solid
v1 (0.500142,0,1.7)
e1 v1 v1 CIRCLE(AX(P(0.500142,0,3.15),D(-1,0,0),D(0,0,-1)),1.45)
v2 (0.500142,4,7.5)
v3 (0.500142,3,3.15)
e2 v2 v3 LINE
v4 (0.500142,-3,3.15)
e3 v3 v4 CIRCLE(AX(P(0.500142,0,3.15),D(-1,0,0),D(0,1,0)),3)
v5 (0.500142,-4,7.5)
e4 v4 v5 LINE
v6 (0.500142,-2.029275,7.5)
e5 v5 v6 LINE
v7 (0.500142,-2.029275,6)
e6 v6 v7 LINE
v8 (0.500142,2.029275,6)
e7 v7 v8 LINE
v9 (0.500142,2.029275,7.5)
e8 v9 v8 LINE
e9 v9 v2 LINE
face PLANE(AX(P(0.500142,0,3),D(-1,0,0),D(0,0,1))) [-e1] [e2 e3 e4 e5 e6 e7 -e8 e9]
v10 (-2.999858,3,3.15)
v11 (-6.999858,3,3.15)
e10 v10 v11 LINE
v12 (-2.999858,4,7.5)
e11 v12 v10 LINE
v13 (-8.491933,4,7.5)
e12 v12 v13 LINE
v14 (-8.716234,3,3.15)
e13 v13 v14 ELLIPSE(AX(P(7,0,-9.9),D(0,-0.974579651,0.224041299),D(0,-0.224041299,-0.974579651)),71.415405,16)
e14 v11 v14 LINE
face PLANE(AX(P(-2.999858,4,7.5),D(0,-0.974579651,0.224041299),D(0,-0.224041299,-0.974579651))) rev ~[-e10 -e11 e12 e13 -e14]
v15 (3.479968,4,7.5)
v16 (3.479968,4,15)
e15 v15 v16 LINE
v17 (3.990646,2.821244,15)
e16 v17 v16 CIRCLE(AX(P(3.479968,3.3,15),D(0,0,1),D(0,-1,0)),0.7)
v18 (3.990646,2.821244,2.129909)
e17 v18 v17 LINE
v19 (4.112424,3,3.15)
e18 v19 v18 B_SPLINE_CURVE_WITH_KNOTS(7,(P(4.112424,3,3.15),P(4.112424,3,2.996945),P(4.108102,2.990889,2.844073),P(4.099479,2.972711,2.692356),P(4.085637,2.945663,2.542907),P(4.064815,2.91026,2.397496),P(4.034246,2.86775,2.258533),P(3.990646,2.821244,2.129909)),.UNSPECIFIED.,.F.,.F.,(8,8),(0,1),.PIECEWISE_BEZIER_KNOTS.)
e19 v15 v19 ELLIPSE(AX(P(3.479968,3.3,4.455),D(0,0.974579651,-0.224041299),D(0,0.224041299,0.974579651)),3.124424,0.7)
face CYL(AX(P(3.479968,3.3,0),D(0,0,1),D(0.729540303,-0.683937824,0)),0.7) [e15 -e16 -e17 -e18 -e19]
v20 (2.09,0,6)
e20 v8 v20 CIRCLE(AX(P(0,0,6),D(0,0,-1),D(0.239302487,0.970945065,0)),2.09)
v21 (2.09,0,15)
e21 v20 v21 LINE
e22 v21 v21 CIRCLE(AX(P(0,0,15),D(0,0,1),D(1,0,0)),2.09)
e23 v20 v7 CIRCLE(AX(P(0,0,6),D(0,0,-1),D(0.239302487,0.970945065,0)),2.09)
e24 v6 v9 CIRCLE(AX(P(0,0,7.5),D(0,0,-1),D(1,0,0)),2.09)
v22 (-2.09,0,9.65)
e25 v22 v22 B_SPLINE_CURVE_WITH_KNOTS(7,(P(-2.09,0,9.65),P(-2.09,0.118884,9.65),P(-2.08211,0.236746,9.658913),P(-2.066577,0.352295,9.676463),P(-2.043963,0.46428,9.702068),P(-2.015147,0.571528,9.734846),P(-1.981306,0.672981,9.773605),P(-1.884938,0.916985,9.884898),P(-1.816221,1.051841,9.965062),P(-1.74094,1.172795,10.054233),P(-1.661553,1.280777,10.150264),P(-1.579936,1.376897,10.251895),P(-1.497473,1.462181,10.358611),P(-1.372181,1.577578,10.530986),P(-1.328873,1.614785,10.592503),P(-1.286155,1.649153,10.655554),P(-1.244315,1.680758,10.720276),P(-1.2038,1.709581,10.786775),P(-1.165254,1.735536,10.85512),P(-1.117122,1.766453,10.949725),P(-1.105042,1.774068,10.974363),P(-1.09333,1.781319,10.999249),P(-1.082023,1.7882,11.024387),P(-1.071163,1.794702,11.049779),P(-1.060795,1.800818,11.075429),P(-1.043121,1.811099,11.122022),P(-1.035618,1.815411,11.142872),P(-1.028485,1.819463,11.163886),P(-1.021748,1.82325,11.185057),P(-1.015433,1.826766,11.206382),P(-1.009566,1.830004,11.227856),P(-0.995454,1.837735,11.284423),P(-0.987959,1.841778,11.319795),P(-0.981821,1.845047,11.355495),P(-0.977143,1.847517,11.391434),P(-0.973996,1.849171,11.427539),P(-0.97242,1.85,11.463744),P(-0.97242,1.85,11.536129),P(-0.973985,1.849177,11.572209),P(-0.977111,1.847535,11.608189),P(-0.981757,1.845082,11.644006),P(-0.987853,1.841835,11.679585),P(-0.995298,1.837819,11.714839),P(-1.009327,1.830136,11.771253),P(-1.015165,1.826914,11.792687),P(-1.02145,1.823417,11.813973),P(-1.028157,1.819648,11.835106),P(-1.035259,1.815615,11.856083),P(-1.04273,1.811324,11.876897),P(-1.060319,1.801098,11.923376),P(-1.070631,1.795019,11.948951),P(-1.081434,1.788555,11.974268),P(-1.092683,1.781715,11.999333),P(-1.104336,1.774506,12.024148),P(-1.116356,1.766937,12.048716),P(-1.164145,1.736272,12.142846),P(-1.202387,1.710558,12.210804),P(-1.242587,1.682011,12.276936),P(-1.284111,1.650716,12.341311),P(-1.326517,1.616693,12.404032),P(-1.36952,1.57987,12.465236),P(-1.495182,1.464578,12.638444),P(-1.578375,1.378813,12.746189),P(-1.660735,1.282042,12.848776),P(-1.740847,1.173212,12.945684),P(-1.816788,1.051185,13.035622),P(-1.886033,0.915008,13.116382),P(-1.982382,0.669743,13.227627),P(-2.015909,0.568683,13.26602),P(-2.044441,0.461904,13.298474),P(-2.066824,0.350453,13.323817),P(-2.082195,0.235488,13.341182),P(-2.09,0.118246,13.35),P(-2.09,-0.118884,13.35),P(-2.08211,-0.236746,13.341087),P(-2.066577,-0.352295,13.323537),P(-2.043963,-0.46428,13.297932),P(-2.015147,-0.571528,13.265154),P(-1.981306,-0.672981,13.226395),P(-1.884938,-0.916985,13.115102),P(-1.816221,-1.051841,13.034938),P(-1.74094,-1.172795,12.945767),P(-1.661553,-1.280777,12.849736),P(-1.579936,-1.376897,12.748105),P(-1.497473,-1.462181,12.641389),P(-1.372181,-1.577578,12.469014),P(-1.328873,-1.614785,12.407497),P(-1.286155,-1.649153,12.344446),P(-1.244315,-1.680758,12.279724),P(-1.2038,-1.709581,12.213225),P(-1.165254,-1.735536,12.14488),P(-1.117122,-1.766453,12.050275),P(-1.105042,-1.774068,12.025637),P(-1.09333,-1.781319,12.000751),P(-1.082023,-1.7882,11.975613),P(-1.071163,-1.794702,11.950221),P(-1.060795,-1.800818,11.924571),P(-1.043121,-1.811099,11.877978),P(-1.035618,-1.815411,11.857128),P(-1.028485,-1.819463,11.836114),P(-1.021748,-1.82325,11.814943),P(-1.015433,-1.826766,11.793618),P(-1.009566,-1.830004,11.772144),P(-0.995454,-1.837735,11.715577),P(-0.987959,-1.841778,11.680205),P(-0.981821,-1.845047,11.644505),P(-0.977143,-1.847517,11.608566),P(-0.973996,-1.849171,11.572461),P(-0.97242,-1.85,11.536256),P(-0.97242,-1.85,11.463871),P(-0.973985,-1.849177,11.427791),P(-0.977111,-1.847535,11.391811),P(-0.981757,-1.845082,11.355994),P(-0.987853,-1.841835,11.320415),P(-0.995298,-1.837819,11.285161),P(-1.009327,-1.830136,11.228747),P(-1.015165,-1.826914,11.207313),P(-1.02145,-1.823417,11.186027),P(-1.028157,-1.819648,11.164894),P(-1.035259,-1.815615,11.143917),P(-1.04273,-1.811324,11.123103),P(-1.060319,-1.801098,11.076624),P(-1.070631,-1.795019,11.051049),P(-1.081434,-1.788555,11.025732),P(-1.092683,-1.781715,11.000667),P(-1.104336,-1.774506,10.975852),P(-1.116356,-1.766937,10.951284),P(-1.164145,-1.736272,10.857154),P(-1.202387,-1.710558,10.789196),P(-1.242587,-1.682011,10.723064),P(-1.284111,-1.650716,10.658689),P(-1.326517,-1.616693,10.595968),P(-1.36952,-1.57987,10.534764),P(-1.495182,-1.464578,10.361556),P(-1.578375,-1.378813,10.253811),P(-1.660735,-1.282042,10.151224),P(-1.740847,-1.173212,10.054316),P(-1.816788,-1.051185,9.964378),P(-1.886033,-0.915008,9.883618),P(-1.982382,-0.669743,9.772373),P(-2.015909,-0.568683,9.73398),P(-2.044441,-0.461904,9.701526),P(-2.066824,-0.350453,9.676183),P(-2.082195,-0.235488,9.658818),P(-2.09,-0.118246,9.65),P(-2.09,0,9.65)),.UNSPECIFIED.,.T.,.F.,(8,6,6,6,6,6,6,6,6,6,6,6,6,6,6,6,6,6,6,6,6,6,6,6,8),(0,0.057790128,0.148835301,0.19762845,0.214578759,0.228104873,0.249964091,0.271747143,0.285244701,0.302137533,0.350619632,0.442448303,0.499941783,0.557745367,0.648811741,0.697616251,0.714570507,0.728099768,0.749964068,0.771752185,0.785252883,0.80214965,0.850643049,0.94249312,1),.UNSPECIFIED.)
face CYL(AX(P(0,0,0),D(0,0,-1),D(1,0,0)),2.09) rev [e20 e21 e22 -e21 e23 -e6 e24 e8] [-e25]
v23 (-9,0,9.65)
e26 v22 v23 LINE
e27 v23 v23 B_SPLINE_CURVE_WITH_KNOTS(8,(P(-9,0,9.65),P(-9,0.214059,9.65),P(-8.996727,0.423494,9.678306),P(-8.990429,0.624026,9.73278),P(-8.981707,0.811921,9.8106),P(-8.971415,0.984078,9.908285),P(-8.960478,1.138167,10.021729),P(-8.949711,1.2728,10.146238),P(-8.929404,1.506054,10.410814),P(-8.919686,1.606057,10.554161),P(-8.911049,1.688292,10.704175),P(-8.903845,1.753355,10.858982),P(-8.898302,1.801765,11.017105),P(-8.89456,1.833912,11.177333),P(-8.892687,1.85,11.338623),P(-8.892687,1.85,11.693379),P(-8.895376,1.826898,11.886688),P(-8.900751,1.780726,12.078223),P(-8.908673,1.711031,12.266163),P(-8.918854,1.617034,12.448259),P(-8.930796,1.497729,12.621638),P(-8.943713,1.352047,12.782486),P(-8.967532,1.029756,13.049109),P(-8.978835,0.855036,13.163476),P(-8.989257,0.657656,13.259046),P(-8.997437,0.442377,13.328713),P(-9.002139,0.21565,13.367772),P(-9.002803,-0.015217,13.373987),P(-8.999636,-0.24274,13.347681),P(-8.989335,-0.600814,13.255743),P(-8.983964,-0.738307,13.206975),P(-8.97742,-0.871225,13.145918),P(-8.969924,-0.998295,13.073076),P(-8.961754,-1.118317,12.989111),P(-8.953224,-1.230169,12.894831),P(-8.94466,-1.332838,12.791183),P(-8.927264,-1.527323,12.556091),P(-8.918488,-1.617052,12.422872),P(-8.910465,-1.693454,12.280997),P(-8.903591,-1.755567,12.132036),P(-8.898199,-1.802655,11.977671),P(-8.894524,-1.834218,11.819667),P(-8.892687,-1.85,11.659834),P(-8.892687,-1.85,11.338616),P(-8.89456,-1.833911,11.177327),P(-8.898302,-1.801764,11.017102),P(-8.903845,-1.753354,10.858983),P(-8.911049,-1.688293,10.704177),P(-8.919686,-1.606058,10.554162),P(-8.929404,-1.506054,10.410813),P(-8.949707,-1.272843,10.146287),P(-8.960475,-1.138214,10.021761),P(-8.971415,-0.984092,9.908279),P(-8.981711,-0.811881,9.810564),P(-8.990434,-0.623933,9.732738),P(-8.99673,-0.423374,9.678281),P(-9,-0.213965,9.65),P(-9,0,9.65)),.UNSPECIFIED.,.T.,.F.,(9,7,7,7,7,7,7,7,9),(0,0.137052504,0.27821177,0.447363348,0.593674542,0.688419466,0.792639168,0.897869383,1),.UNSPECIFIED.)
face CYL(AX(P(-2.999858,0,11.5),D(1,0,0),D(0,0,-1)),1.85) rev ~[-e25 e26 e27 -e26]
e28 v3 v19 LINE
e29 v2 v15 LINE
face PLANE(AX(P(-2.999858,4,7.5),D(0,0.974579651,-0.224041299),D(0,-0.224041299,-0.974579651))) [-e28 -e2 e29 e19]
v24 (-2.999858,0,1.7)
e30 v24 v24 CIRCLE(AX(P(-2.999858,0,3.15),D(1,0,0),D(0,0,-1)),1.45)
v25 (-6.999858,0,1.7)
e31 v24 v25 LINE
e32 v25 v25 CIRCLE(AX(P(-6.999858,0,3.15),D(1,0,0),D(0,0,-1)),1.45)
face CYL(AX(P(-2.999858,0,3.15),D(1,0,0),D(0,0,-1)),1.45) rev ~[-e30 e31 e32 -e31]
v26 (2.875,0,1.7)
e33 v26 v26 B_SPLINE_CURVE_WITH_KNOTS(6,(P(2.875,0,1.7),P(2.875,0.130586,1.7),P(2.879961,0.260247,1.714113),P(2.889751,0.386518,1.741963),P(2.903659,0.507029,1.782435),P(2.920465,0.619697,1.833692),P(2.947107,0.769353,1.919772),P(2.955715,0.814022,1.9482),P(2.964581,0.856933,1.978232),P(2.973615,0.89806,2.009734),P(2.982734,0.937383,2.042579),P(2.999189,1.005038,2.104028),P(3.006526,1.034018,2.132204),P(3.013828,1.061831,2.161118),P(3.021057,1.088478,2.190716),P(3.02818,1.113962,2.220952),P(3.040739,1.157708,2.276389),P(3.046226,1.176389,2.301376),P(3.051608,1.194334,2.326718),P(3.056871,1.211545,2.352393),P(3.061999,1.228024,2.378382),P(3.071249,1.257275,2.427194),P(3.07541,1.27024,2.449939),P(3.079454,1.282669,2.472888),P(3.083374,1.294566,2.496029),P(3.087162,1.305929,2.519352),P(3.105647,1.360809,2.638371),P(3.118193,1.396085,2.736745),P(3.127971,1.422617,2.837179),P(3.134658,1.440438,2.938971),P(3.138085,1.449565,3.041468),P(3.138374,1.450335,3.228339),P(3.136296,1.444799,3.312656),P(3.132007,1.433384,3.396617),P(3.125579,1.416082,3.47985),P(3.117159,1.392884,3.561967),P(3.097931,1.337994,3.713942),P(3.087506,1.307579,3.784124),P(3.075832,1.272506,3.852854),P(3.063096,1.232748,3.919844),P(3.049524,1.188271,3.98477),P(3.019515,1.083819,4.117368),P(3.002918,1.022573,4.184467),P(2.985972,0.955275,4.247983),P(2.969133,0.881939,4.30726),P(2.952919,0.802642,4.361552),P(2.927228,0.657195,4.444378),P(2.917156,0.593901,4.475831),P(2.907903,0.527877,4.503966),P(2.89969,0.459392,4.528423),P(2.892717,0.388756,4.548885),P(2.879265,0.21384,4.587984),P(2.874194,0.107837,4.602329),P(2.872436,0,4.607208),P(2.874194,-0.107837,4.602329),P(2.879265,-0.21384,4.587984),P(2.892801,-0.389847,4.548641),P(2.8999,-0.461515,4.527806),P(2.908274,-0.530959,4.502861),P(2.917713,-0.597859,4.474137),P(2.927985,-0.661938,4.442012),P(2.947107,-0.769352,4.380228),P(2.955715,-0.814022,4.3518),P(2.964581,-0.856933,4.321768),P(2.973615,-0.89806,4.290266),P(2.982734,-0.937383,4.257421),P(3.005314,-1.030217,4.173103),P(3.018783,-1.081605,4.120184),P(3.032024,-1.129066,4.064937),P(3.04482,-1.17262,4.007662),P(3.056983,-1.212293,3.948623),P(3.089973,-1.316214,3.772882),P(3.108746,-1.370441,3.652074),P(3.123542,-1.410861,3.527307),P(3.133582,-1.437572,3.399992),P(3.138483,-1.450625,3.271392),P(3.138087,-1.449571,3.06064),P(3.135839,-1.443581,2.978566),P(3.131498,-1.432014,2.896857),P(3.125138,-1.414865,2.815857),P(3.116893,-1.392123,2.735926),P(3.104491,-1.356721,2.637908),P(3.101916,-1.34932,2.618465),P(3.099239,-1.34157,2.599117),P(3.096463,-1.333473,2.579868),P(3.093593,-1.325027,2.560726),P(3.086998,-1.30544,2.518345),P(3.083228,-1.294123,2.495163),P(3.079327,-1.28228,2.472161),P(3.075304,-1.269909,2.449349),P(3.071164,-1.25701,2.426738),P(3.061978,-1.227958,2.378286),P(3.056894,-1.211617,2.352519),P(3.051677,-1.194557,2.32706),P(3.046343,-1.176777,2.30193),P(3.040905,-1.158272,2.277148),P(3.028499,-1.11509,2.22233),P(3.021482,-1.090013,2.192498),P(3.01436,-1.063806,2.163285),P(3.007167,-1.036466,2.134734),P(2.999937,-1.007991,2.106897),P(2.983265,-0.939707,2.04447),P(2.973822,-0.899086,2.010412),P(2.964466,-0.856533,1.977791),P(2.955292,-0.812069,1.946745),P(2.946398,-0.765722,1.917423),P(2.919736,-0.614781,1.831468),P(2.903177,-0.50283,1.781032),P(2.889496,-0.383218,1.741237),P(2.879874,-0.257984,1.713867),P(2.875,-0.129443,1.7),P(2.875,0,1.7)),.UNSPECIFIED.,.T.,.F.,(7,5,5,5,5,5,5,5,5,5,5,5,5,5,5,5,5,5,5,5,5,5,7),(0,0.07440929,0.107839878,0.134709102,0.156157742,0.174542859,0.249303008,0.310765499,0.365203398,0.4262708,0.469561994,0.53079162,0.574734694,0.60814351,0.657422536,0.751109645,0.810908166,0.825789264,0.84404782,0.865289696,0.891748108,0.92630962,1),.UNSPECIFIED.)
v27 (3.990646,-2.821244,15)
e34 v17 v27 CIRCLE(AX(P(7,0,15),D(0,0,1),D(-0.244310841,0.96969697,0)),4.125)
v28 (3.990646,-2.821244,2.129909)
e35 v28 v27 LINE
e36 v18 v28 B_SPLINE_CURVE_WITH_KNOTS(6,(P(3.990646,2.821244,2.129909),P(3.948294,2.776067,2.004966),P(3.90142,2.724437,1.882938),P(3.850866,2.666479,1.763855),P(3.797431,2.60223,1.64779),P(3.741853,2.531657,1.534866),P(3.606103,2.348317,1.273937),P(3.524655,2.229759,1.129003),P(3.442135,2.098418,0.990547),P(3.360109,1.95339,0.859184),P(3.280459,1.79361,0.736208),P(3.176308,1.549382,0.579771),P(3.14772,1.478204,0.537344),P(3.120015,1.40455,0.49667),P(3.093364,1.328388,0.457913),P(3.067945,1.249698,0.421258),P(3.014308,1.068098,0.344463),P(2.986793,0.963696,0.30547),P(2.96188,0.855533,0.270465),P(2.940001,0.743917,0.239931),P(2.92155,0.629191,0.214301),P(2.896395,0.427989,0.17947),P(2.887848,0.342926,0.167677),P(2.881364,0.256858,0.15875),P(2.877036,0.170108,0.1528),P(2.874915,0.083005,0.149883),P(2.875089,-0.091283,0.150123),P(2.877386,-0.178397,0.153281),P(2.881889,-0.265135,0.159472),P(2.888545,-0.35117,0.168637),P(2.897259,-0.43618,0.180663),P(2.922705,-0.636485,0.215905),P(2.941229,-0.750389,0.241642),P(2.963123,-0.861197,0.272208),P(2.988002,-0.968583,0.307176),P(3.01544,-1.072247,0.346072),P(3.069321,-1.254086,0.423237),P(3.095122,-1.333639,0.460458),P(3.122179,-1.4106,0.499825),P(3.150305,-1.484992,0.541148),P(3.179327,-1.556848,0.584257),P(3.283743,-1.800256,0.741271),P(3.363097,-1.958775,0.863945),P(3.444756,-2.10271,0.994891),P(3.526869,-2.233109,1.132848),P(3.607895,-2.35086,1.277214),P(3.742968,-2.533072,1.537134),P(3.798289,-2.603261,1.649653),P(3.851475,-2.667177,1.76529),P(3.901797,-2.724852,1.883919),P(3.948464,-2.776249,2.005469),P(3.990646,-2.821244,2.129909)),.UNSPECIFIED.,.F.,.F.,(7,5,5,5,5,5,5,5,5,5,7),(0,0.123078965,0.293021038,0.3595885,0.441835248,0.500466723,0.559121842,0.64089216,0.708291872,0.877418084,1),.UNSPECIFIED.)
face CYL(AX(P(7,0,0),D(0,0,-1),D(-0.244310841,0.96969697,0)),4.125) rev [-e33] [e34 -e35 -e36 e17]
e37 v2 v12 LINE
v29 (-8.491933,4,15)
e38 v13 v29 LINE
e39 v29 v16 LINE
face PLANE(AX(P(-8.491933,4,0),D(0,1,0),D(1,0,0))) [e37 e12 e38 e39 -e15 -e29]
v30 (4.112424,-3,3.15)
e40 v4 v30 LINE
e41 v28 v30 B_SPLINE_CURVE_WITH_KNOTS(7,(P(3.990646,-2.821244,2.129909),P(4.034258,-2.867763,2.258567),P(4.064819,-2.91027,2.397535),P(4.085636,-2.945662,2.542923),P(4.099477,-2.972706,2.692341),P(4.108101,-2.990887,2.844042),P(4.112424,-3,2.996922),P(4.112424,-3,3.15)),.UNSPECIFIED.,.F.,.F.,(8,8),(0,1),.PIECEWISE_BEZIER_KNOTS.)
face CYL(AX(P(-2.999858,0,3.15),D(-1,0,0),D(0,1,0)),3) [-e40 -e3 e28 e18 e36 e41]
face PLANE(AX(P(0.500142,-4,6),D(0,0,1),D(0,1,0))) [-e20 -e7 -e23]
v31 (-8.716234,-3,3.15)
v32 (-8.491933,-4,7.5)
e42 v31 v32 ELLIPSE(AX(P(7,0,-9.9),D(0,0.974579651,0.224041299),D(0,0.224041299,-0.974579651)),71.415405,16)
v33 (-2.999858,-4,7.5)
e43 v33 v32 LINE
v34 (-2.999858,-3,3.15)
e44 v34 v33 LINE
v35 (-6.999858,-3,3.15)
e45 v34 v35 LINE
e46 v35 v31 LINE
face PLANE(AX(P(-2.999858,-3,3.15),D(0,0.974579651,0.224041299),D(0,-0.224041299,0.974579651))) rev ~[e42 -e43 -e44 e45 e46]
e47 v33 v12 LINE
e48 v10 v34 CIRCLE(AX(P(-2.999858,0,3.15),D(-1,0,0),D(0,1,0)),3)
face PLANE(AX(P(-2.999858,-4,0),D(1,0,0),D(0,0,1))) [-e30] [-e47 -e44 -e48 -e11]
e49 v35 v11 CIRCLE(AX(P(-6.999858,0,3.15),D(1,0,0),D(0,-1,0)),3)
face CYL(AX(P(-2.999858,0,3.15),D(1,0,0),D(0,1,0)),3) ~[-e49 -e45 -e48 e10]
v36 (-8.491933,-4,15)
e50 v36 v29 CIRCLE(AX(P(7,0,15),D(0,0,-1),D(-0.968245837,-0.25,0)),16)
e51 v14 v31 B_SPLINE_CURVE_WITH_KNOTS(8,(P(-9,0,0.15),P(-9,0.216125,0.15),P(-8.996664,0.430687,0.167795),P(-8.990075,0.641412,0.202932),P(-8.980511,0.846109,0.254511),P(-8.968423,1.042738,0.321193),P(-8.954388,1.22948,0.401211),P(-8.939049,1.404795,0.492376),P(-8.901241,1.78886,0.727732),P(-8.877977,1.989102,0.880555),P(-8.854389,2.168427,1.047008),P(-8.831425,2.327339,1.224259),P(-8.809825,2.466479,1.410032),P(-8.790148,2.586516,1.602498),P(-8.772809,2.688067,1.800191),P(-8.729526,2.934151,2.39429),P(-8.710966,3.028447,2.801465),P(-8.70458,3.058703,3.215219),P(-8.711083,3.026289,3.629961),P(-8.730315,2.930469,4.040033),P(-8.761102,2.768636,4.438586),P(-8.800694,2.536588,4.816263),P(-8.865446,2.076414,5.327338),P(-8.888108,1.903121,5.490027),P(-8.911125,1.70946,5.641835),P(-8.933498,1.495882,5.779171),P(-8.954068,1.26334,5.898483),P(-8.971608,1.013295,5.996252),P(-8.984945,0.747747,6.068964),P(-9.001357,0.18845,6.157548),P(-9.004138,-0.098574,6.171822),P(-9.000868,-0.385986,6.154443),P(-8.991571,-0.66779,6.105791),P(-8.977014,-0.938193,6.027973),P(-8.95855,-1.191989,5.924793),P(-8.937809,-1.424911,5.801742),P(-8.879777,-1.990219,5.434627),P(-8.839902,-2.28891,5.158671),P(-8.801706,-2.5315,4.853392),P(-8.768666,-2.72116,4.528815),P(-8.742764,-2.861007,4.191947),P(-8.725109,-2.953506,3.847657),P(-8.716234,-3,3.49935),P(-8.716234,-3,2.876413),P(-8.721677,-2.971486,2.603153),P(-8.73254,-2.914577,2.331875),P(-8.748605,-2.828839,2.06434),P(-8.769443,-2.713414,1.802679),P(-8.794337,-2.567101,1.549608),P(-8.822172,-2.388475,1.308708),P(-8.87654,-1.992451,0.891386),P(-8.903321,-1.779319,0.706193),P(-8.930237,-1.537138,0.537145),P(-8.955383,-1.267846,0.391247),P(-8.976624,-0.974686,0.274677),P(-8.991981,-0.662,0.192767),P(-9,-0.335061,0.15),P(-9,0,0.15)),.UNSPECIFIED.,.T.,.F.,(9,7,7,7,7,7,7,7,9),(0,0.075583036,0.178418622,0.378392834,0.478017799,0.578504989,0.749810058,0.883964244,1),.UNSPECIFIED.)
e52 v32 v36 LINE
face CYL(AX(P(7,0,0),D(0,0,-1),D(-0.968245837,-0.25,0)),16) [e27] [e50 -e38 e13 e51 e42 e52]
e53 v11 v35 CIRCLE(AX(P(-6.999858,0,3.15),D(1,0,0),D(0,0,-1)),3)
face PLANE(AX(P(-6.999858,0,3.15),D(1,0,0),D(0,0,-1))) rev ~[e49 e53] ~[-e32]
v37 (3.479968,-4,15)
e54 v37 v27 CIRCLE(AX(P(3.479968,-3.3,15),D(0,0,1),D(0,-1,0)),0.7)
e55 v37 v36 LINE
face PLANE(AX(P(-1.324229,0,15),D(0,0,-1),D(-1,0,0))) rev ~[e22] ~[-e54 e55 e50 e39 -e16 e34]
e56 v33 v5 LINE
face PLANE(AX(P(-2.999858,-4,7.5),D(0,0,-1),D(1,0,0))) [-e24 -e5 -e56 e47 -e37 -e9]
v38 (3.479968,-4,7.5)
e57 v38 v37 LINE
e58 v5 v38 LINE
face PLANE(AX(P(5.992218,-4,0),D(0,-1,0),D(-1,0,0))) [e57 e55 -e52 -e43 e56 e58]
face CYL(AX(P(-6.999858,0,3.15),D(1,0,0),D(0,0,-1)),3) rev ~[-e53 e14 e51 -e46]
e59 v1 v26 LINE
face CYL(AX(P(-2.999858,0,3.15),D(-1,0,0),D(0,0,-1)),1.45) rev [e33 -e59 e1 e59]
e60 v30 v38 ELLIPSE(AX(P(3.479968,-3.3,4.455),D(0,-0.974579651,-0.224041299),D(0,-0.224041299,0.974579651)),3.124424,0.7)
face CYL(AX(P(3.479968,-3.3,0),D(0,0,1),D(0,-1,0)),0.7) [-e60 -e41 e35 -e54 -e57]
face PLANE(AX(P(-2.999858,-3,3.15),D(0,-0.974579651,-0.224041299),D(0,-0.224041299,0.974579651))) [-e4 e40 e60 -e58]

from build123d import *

# Parameters (mm, degrees)
SCHIZZO1_R                           = 2.09
ESTRUSIONE_ESTRUSIONE1_DEPTH         = 15
SCHIZZO5_W                           = 3.5
SCHIZZO5_H                           = 7.5
TAGLIO_ESTRUSIONE4_DEPTH             = 9
ESTRUSIONE_ESTRUSIONE2_REACH         = 7.492
SCHIZZO6_W                           = 6
SCHIZZO6_H                           = 8
SCHIZZO7_R                           = 1.45
TAGLIO_ESTRUSIONE5_DEPTH             = 9.992075583
TAGLIO_ESTRUSIONE5_DEPTH_BACK        = 7.000142198
SCHIZZO7_4_R                         = 1.85
TAGLIO_ESTRUSIONE6_DEPTH             = 7.000142323
TAGLIO_ESTRUSIONE6_DIRECTION_2_REACH = 10.992
RACCORDO1_R                          = 0.7
RACCORDO2_R                          = 0.7
TAGLIO_ESTRUSIONE7_DEPTH             = 8.179825842
TAGLIO_ESTRUSIONE7_DEPTH_BACK        = 7.000142323
TAGLIO_ESTRUSIONE9_START             = -4
SCHIZZO9_R                           = 3
TAGLIO_ESTRUSIONE9_DEPTH             = 3.000142323


with BuildPart() as part:
    # Schizzo1 → Estrusione-Estrusione1 (new body)
    with BuildSketch(Plane.XY):
        with BuildLine():
            Line((5.992217781, -4), (-8.491933385, -4))
            ThreePointArc((-8.491933385, -4), (-9, 0), (-8.491933385, 4))
            Line((-8.491933385, 4), (5.992217781, 4))
            ThreePointArc((5.992217781, 4), (2.875, 0), (5.992217781, -4))
        make_face()
        Circle(SCHIZZO1_R, mode=Mode.SUBTRACT)
    extrude(amount=ESTRUSIONE_ESTRUSIONE1_DEPTH)

    # Schizzo5 → Taglio-Estrusione4 (cut, through all)
    with BuildSketch(Plane.XZ.offset(4)):
        with Locations((-1.249857802, 3.75)):
            Rectangle(SCHIZZO5_W, SCHIZZO5_H)
    extrude(amount=-TAGLIO_ESTRUSIONE4_DEPTH, mode=Mode.SUBTRACT)

    # Schizzo6 → Estrusione-Estrusione2 (add, up to next)
    with BuildSketch(Plane.ZY.offset(-0.500142198), mode=Mode.PRIVATE) as estrusione_estrusione2_sk1:
        with Locations((3, 0)):
            Rectangle(SCHIZZO6_W, SCHIZZO6_H)
    estrusione_estrusione2_tool1 = extrude(estrusione_estrusione2_sk1.sketch, amount=-ESTRUSIONE_ESTRUSIONE2_REACH, mode=Mode.PRIVATE) - part.part
    add(estrusione_estrusione2_tool1.solids().sort_by_distance((0.500142, 0, 3))[0])

    # Schizzo7 → Taglio-Estrusione5 (cut, two sides)
    with BuildSketch(Plane(origin=(-2.999857802, 0, 0), x_dir=(0, 0, -1), z_dir=(1, 0, 0))) as taglio_estrusione5_sk:
        with Locations((-3.15, 0)):
            Circle(SCHIZZO7_R)
    extrude(amount=TAGLIO_ESTRUSIONE5_DEPTH, mode=Mode.SUBTRACT)
    extrude(taglio_estrusione5_sk.sketch, amount=-TAGLIO_ESTRUSIONE5_DEPTH_BACK, mode=Mode.SUBTRACT)

    # Schizzo7<4> → Taglio-Estrusione6 (cut)
    with BuildSketch(Plane(origin=(-2.999857802, 0, 0), x_dir=(0, 0, -1), z_dir=(1, 0, 0))):
        with Locations((-11.5, 0)):
            Circle(SCHIZZO7_4_R)
    extrude(amount=-TAGLIO_ESTRUSIONE6_DEPTH, mode=Mode.SUBTRACT)

    # Schizzo7<4> → Taglio-Estrusione6 direction 2 (cut, up to next)
    with BuildSketch(Plane(origin=(-2.999857802, 0, 0), x_dir=(0, 0, -1), z_dir=(1, 0, 0)), mode=Mode.PRIVATE) as taglio_estrusione6_direction_2_sk1:
        with Locations((-11.5, 0)):
            Circle(SCHIZZO7_4_R)
    taglio_estrusione6_direction_2_tool1 = extrude(taglio_estrusione6_direction_2_sk1.sketch, amount=TAGLIO_ESTRUSIONE6_DIRECTION_2_REACH, mode=Mode.PRIVATE) & part.part
    add(taglio_estrusione6_direction_2_tool1.solids().sort_by_distance((-2.999858, 0, 11.5))[0], mode=Mode.SUBTRACT)

    # Raccordo1
    raccordo1_edges = [part.edges().sort_by_distance(p)[0] for p in [
        (5.992217781, 4, 7.5),
    ]]
    fillet(raccordo1_edges, radius=RACCORDO1_R)

    # Raccordo2
    raccordo2_edges = [part.edges().sort_by_distance(p)[0] for p in [
        (5.992217781, -4, 7.5),
    ]]
    fillet(raccordo2_edges, radius=RACCORDO2_R)

    # Schizzo8 → Taglio-Estrusione7 (cut, two sides)
    with BuildSketch(Plane(origin=(-2.999857802, 0, 0), x_dir=(0, 0, -1), z_dir=(1, 0, 0))) as taglio_estrusione7_sk:
        with BuildLine():
            Line((-3.15, -4), (0, -4))
            Line((0, -4), (0, 4))
            Line((0, 4), (-3.15, 4))
            Line((-3.15, 4), (-7.5, 4))
            Line((-7.5, 4), (-3.15, 3))
            ThreePointArc((-3.15, 3), (-0.15, 0), (-3.15, -3))
            Line((-3.15, -3), (-7.5, -4))
            Line((-7.5, -4), (-3.15, -4))
        make_face()
    extrude(amount=TAGLIO_ESTRUSIONE7_DEPTH, mode=Mode.SUBTRACT)
    extrude(taglio_estrusione7_sk.sketch, amount=-TAGLIO_ESTRUSIONE7_DEPTH_BACK, mode=Mode.SUBTRACT)

    # Schizzo9 → Taglio-Estrusione9 (cut, through all)
    with BuildSketch(Plane(origin=(-2.999857802, 0, 0), x_dir=(0, 0, -1), z_dir=(1, 0, 0)).offset(TAGLIO_ESTRUSIONE9_START)):
        with Locations((-3.15, 0)):
            Circle(SCHIZZO9_R)
    extrude(amount=-TAGLIO_ESTRUSIONE9_DEPTH, mode=Mode.SUBTRACT)


solid = part.part
